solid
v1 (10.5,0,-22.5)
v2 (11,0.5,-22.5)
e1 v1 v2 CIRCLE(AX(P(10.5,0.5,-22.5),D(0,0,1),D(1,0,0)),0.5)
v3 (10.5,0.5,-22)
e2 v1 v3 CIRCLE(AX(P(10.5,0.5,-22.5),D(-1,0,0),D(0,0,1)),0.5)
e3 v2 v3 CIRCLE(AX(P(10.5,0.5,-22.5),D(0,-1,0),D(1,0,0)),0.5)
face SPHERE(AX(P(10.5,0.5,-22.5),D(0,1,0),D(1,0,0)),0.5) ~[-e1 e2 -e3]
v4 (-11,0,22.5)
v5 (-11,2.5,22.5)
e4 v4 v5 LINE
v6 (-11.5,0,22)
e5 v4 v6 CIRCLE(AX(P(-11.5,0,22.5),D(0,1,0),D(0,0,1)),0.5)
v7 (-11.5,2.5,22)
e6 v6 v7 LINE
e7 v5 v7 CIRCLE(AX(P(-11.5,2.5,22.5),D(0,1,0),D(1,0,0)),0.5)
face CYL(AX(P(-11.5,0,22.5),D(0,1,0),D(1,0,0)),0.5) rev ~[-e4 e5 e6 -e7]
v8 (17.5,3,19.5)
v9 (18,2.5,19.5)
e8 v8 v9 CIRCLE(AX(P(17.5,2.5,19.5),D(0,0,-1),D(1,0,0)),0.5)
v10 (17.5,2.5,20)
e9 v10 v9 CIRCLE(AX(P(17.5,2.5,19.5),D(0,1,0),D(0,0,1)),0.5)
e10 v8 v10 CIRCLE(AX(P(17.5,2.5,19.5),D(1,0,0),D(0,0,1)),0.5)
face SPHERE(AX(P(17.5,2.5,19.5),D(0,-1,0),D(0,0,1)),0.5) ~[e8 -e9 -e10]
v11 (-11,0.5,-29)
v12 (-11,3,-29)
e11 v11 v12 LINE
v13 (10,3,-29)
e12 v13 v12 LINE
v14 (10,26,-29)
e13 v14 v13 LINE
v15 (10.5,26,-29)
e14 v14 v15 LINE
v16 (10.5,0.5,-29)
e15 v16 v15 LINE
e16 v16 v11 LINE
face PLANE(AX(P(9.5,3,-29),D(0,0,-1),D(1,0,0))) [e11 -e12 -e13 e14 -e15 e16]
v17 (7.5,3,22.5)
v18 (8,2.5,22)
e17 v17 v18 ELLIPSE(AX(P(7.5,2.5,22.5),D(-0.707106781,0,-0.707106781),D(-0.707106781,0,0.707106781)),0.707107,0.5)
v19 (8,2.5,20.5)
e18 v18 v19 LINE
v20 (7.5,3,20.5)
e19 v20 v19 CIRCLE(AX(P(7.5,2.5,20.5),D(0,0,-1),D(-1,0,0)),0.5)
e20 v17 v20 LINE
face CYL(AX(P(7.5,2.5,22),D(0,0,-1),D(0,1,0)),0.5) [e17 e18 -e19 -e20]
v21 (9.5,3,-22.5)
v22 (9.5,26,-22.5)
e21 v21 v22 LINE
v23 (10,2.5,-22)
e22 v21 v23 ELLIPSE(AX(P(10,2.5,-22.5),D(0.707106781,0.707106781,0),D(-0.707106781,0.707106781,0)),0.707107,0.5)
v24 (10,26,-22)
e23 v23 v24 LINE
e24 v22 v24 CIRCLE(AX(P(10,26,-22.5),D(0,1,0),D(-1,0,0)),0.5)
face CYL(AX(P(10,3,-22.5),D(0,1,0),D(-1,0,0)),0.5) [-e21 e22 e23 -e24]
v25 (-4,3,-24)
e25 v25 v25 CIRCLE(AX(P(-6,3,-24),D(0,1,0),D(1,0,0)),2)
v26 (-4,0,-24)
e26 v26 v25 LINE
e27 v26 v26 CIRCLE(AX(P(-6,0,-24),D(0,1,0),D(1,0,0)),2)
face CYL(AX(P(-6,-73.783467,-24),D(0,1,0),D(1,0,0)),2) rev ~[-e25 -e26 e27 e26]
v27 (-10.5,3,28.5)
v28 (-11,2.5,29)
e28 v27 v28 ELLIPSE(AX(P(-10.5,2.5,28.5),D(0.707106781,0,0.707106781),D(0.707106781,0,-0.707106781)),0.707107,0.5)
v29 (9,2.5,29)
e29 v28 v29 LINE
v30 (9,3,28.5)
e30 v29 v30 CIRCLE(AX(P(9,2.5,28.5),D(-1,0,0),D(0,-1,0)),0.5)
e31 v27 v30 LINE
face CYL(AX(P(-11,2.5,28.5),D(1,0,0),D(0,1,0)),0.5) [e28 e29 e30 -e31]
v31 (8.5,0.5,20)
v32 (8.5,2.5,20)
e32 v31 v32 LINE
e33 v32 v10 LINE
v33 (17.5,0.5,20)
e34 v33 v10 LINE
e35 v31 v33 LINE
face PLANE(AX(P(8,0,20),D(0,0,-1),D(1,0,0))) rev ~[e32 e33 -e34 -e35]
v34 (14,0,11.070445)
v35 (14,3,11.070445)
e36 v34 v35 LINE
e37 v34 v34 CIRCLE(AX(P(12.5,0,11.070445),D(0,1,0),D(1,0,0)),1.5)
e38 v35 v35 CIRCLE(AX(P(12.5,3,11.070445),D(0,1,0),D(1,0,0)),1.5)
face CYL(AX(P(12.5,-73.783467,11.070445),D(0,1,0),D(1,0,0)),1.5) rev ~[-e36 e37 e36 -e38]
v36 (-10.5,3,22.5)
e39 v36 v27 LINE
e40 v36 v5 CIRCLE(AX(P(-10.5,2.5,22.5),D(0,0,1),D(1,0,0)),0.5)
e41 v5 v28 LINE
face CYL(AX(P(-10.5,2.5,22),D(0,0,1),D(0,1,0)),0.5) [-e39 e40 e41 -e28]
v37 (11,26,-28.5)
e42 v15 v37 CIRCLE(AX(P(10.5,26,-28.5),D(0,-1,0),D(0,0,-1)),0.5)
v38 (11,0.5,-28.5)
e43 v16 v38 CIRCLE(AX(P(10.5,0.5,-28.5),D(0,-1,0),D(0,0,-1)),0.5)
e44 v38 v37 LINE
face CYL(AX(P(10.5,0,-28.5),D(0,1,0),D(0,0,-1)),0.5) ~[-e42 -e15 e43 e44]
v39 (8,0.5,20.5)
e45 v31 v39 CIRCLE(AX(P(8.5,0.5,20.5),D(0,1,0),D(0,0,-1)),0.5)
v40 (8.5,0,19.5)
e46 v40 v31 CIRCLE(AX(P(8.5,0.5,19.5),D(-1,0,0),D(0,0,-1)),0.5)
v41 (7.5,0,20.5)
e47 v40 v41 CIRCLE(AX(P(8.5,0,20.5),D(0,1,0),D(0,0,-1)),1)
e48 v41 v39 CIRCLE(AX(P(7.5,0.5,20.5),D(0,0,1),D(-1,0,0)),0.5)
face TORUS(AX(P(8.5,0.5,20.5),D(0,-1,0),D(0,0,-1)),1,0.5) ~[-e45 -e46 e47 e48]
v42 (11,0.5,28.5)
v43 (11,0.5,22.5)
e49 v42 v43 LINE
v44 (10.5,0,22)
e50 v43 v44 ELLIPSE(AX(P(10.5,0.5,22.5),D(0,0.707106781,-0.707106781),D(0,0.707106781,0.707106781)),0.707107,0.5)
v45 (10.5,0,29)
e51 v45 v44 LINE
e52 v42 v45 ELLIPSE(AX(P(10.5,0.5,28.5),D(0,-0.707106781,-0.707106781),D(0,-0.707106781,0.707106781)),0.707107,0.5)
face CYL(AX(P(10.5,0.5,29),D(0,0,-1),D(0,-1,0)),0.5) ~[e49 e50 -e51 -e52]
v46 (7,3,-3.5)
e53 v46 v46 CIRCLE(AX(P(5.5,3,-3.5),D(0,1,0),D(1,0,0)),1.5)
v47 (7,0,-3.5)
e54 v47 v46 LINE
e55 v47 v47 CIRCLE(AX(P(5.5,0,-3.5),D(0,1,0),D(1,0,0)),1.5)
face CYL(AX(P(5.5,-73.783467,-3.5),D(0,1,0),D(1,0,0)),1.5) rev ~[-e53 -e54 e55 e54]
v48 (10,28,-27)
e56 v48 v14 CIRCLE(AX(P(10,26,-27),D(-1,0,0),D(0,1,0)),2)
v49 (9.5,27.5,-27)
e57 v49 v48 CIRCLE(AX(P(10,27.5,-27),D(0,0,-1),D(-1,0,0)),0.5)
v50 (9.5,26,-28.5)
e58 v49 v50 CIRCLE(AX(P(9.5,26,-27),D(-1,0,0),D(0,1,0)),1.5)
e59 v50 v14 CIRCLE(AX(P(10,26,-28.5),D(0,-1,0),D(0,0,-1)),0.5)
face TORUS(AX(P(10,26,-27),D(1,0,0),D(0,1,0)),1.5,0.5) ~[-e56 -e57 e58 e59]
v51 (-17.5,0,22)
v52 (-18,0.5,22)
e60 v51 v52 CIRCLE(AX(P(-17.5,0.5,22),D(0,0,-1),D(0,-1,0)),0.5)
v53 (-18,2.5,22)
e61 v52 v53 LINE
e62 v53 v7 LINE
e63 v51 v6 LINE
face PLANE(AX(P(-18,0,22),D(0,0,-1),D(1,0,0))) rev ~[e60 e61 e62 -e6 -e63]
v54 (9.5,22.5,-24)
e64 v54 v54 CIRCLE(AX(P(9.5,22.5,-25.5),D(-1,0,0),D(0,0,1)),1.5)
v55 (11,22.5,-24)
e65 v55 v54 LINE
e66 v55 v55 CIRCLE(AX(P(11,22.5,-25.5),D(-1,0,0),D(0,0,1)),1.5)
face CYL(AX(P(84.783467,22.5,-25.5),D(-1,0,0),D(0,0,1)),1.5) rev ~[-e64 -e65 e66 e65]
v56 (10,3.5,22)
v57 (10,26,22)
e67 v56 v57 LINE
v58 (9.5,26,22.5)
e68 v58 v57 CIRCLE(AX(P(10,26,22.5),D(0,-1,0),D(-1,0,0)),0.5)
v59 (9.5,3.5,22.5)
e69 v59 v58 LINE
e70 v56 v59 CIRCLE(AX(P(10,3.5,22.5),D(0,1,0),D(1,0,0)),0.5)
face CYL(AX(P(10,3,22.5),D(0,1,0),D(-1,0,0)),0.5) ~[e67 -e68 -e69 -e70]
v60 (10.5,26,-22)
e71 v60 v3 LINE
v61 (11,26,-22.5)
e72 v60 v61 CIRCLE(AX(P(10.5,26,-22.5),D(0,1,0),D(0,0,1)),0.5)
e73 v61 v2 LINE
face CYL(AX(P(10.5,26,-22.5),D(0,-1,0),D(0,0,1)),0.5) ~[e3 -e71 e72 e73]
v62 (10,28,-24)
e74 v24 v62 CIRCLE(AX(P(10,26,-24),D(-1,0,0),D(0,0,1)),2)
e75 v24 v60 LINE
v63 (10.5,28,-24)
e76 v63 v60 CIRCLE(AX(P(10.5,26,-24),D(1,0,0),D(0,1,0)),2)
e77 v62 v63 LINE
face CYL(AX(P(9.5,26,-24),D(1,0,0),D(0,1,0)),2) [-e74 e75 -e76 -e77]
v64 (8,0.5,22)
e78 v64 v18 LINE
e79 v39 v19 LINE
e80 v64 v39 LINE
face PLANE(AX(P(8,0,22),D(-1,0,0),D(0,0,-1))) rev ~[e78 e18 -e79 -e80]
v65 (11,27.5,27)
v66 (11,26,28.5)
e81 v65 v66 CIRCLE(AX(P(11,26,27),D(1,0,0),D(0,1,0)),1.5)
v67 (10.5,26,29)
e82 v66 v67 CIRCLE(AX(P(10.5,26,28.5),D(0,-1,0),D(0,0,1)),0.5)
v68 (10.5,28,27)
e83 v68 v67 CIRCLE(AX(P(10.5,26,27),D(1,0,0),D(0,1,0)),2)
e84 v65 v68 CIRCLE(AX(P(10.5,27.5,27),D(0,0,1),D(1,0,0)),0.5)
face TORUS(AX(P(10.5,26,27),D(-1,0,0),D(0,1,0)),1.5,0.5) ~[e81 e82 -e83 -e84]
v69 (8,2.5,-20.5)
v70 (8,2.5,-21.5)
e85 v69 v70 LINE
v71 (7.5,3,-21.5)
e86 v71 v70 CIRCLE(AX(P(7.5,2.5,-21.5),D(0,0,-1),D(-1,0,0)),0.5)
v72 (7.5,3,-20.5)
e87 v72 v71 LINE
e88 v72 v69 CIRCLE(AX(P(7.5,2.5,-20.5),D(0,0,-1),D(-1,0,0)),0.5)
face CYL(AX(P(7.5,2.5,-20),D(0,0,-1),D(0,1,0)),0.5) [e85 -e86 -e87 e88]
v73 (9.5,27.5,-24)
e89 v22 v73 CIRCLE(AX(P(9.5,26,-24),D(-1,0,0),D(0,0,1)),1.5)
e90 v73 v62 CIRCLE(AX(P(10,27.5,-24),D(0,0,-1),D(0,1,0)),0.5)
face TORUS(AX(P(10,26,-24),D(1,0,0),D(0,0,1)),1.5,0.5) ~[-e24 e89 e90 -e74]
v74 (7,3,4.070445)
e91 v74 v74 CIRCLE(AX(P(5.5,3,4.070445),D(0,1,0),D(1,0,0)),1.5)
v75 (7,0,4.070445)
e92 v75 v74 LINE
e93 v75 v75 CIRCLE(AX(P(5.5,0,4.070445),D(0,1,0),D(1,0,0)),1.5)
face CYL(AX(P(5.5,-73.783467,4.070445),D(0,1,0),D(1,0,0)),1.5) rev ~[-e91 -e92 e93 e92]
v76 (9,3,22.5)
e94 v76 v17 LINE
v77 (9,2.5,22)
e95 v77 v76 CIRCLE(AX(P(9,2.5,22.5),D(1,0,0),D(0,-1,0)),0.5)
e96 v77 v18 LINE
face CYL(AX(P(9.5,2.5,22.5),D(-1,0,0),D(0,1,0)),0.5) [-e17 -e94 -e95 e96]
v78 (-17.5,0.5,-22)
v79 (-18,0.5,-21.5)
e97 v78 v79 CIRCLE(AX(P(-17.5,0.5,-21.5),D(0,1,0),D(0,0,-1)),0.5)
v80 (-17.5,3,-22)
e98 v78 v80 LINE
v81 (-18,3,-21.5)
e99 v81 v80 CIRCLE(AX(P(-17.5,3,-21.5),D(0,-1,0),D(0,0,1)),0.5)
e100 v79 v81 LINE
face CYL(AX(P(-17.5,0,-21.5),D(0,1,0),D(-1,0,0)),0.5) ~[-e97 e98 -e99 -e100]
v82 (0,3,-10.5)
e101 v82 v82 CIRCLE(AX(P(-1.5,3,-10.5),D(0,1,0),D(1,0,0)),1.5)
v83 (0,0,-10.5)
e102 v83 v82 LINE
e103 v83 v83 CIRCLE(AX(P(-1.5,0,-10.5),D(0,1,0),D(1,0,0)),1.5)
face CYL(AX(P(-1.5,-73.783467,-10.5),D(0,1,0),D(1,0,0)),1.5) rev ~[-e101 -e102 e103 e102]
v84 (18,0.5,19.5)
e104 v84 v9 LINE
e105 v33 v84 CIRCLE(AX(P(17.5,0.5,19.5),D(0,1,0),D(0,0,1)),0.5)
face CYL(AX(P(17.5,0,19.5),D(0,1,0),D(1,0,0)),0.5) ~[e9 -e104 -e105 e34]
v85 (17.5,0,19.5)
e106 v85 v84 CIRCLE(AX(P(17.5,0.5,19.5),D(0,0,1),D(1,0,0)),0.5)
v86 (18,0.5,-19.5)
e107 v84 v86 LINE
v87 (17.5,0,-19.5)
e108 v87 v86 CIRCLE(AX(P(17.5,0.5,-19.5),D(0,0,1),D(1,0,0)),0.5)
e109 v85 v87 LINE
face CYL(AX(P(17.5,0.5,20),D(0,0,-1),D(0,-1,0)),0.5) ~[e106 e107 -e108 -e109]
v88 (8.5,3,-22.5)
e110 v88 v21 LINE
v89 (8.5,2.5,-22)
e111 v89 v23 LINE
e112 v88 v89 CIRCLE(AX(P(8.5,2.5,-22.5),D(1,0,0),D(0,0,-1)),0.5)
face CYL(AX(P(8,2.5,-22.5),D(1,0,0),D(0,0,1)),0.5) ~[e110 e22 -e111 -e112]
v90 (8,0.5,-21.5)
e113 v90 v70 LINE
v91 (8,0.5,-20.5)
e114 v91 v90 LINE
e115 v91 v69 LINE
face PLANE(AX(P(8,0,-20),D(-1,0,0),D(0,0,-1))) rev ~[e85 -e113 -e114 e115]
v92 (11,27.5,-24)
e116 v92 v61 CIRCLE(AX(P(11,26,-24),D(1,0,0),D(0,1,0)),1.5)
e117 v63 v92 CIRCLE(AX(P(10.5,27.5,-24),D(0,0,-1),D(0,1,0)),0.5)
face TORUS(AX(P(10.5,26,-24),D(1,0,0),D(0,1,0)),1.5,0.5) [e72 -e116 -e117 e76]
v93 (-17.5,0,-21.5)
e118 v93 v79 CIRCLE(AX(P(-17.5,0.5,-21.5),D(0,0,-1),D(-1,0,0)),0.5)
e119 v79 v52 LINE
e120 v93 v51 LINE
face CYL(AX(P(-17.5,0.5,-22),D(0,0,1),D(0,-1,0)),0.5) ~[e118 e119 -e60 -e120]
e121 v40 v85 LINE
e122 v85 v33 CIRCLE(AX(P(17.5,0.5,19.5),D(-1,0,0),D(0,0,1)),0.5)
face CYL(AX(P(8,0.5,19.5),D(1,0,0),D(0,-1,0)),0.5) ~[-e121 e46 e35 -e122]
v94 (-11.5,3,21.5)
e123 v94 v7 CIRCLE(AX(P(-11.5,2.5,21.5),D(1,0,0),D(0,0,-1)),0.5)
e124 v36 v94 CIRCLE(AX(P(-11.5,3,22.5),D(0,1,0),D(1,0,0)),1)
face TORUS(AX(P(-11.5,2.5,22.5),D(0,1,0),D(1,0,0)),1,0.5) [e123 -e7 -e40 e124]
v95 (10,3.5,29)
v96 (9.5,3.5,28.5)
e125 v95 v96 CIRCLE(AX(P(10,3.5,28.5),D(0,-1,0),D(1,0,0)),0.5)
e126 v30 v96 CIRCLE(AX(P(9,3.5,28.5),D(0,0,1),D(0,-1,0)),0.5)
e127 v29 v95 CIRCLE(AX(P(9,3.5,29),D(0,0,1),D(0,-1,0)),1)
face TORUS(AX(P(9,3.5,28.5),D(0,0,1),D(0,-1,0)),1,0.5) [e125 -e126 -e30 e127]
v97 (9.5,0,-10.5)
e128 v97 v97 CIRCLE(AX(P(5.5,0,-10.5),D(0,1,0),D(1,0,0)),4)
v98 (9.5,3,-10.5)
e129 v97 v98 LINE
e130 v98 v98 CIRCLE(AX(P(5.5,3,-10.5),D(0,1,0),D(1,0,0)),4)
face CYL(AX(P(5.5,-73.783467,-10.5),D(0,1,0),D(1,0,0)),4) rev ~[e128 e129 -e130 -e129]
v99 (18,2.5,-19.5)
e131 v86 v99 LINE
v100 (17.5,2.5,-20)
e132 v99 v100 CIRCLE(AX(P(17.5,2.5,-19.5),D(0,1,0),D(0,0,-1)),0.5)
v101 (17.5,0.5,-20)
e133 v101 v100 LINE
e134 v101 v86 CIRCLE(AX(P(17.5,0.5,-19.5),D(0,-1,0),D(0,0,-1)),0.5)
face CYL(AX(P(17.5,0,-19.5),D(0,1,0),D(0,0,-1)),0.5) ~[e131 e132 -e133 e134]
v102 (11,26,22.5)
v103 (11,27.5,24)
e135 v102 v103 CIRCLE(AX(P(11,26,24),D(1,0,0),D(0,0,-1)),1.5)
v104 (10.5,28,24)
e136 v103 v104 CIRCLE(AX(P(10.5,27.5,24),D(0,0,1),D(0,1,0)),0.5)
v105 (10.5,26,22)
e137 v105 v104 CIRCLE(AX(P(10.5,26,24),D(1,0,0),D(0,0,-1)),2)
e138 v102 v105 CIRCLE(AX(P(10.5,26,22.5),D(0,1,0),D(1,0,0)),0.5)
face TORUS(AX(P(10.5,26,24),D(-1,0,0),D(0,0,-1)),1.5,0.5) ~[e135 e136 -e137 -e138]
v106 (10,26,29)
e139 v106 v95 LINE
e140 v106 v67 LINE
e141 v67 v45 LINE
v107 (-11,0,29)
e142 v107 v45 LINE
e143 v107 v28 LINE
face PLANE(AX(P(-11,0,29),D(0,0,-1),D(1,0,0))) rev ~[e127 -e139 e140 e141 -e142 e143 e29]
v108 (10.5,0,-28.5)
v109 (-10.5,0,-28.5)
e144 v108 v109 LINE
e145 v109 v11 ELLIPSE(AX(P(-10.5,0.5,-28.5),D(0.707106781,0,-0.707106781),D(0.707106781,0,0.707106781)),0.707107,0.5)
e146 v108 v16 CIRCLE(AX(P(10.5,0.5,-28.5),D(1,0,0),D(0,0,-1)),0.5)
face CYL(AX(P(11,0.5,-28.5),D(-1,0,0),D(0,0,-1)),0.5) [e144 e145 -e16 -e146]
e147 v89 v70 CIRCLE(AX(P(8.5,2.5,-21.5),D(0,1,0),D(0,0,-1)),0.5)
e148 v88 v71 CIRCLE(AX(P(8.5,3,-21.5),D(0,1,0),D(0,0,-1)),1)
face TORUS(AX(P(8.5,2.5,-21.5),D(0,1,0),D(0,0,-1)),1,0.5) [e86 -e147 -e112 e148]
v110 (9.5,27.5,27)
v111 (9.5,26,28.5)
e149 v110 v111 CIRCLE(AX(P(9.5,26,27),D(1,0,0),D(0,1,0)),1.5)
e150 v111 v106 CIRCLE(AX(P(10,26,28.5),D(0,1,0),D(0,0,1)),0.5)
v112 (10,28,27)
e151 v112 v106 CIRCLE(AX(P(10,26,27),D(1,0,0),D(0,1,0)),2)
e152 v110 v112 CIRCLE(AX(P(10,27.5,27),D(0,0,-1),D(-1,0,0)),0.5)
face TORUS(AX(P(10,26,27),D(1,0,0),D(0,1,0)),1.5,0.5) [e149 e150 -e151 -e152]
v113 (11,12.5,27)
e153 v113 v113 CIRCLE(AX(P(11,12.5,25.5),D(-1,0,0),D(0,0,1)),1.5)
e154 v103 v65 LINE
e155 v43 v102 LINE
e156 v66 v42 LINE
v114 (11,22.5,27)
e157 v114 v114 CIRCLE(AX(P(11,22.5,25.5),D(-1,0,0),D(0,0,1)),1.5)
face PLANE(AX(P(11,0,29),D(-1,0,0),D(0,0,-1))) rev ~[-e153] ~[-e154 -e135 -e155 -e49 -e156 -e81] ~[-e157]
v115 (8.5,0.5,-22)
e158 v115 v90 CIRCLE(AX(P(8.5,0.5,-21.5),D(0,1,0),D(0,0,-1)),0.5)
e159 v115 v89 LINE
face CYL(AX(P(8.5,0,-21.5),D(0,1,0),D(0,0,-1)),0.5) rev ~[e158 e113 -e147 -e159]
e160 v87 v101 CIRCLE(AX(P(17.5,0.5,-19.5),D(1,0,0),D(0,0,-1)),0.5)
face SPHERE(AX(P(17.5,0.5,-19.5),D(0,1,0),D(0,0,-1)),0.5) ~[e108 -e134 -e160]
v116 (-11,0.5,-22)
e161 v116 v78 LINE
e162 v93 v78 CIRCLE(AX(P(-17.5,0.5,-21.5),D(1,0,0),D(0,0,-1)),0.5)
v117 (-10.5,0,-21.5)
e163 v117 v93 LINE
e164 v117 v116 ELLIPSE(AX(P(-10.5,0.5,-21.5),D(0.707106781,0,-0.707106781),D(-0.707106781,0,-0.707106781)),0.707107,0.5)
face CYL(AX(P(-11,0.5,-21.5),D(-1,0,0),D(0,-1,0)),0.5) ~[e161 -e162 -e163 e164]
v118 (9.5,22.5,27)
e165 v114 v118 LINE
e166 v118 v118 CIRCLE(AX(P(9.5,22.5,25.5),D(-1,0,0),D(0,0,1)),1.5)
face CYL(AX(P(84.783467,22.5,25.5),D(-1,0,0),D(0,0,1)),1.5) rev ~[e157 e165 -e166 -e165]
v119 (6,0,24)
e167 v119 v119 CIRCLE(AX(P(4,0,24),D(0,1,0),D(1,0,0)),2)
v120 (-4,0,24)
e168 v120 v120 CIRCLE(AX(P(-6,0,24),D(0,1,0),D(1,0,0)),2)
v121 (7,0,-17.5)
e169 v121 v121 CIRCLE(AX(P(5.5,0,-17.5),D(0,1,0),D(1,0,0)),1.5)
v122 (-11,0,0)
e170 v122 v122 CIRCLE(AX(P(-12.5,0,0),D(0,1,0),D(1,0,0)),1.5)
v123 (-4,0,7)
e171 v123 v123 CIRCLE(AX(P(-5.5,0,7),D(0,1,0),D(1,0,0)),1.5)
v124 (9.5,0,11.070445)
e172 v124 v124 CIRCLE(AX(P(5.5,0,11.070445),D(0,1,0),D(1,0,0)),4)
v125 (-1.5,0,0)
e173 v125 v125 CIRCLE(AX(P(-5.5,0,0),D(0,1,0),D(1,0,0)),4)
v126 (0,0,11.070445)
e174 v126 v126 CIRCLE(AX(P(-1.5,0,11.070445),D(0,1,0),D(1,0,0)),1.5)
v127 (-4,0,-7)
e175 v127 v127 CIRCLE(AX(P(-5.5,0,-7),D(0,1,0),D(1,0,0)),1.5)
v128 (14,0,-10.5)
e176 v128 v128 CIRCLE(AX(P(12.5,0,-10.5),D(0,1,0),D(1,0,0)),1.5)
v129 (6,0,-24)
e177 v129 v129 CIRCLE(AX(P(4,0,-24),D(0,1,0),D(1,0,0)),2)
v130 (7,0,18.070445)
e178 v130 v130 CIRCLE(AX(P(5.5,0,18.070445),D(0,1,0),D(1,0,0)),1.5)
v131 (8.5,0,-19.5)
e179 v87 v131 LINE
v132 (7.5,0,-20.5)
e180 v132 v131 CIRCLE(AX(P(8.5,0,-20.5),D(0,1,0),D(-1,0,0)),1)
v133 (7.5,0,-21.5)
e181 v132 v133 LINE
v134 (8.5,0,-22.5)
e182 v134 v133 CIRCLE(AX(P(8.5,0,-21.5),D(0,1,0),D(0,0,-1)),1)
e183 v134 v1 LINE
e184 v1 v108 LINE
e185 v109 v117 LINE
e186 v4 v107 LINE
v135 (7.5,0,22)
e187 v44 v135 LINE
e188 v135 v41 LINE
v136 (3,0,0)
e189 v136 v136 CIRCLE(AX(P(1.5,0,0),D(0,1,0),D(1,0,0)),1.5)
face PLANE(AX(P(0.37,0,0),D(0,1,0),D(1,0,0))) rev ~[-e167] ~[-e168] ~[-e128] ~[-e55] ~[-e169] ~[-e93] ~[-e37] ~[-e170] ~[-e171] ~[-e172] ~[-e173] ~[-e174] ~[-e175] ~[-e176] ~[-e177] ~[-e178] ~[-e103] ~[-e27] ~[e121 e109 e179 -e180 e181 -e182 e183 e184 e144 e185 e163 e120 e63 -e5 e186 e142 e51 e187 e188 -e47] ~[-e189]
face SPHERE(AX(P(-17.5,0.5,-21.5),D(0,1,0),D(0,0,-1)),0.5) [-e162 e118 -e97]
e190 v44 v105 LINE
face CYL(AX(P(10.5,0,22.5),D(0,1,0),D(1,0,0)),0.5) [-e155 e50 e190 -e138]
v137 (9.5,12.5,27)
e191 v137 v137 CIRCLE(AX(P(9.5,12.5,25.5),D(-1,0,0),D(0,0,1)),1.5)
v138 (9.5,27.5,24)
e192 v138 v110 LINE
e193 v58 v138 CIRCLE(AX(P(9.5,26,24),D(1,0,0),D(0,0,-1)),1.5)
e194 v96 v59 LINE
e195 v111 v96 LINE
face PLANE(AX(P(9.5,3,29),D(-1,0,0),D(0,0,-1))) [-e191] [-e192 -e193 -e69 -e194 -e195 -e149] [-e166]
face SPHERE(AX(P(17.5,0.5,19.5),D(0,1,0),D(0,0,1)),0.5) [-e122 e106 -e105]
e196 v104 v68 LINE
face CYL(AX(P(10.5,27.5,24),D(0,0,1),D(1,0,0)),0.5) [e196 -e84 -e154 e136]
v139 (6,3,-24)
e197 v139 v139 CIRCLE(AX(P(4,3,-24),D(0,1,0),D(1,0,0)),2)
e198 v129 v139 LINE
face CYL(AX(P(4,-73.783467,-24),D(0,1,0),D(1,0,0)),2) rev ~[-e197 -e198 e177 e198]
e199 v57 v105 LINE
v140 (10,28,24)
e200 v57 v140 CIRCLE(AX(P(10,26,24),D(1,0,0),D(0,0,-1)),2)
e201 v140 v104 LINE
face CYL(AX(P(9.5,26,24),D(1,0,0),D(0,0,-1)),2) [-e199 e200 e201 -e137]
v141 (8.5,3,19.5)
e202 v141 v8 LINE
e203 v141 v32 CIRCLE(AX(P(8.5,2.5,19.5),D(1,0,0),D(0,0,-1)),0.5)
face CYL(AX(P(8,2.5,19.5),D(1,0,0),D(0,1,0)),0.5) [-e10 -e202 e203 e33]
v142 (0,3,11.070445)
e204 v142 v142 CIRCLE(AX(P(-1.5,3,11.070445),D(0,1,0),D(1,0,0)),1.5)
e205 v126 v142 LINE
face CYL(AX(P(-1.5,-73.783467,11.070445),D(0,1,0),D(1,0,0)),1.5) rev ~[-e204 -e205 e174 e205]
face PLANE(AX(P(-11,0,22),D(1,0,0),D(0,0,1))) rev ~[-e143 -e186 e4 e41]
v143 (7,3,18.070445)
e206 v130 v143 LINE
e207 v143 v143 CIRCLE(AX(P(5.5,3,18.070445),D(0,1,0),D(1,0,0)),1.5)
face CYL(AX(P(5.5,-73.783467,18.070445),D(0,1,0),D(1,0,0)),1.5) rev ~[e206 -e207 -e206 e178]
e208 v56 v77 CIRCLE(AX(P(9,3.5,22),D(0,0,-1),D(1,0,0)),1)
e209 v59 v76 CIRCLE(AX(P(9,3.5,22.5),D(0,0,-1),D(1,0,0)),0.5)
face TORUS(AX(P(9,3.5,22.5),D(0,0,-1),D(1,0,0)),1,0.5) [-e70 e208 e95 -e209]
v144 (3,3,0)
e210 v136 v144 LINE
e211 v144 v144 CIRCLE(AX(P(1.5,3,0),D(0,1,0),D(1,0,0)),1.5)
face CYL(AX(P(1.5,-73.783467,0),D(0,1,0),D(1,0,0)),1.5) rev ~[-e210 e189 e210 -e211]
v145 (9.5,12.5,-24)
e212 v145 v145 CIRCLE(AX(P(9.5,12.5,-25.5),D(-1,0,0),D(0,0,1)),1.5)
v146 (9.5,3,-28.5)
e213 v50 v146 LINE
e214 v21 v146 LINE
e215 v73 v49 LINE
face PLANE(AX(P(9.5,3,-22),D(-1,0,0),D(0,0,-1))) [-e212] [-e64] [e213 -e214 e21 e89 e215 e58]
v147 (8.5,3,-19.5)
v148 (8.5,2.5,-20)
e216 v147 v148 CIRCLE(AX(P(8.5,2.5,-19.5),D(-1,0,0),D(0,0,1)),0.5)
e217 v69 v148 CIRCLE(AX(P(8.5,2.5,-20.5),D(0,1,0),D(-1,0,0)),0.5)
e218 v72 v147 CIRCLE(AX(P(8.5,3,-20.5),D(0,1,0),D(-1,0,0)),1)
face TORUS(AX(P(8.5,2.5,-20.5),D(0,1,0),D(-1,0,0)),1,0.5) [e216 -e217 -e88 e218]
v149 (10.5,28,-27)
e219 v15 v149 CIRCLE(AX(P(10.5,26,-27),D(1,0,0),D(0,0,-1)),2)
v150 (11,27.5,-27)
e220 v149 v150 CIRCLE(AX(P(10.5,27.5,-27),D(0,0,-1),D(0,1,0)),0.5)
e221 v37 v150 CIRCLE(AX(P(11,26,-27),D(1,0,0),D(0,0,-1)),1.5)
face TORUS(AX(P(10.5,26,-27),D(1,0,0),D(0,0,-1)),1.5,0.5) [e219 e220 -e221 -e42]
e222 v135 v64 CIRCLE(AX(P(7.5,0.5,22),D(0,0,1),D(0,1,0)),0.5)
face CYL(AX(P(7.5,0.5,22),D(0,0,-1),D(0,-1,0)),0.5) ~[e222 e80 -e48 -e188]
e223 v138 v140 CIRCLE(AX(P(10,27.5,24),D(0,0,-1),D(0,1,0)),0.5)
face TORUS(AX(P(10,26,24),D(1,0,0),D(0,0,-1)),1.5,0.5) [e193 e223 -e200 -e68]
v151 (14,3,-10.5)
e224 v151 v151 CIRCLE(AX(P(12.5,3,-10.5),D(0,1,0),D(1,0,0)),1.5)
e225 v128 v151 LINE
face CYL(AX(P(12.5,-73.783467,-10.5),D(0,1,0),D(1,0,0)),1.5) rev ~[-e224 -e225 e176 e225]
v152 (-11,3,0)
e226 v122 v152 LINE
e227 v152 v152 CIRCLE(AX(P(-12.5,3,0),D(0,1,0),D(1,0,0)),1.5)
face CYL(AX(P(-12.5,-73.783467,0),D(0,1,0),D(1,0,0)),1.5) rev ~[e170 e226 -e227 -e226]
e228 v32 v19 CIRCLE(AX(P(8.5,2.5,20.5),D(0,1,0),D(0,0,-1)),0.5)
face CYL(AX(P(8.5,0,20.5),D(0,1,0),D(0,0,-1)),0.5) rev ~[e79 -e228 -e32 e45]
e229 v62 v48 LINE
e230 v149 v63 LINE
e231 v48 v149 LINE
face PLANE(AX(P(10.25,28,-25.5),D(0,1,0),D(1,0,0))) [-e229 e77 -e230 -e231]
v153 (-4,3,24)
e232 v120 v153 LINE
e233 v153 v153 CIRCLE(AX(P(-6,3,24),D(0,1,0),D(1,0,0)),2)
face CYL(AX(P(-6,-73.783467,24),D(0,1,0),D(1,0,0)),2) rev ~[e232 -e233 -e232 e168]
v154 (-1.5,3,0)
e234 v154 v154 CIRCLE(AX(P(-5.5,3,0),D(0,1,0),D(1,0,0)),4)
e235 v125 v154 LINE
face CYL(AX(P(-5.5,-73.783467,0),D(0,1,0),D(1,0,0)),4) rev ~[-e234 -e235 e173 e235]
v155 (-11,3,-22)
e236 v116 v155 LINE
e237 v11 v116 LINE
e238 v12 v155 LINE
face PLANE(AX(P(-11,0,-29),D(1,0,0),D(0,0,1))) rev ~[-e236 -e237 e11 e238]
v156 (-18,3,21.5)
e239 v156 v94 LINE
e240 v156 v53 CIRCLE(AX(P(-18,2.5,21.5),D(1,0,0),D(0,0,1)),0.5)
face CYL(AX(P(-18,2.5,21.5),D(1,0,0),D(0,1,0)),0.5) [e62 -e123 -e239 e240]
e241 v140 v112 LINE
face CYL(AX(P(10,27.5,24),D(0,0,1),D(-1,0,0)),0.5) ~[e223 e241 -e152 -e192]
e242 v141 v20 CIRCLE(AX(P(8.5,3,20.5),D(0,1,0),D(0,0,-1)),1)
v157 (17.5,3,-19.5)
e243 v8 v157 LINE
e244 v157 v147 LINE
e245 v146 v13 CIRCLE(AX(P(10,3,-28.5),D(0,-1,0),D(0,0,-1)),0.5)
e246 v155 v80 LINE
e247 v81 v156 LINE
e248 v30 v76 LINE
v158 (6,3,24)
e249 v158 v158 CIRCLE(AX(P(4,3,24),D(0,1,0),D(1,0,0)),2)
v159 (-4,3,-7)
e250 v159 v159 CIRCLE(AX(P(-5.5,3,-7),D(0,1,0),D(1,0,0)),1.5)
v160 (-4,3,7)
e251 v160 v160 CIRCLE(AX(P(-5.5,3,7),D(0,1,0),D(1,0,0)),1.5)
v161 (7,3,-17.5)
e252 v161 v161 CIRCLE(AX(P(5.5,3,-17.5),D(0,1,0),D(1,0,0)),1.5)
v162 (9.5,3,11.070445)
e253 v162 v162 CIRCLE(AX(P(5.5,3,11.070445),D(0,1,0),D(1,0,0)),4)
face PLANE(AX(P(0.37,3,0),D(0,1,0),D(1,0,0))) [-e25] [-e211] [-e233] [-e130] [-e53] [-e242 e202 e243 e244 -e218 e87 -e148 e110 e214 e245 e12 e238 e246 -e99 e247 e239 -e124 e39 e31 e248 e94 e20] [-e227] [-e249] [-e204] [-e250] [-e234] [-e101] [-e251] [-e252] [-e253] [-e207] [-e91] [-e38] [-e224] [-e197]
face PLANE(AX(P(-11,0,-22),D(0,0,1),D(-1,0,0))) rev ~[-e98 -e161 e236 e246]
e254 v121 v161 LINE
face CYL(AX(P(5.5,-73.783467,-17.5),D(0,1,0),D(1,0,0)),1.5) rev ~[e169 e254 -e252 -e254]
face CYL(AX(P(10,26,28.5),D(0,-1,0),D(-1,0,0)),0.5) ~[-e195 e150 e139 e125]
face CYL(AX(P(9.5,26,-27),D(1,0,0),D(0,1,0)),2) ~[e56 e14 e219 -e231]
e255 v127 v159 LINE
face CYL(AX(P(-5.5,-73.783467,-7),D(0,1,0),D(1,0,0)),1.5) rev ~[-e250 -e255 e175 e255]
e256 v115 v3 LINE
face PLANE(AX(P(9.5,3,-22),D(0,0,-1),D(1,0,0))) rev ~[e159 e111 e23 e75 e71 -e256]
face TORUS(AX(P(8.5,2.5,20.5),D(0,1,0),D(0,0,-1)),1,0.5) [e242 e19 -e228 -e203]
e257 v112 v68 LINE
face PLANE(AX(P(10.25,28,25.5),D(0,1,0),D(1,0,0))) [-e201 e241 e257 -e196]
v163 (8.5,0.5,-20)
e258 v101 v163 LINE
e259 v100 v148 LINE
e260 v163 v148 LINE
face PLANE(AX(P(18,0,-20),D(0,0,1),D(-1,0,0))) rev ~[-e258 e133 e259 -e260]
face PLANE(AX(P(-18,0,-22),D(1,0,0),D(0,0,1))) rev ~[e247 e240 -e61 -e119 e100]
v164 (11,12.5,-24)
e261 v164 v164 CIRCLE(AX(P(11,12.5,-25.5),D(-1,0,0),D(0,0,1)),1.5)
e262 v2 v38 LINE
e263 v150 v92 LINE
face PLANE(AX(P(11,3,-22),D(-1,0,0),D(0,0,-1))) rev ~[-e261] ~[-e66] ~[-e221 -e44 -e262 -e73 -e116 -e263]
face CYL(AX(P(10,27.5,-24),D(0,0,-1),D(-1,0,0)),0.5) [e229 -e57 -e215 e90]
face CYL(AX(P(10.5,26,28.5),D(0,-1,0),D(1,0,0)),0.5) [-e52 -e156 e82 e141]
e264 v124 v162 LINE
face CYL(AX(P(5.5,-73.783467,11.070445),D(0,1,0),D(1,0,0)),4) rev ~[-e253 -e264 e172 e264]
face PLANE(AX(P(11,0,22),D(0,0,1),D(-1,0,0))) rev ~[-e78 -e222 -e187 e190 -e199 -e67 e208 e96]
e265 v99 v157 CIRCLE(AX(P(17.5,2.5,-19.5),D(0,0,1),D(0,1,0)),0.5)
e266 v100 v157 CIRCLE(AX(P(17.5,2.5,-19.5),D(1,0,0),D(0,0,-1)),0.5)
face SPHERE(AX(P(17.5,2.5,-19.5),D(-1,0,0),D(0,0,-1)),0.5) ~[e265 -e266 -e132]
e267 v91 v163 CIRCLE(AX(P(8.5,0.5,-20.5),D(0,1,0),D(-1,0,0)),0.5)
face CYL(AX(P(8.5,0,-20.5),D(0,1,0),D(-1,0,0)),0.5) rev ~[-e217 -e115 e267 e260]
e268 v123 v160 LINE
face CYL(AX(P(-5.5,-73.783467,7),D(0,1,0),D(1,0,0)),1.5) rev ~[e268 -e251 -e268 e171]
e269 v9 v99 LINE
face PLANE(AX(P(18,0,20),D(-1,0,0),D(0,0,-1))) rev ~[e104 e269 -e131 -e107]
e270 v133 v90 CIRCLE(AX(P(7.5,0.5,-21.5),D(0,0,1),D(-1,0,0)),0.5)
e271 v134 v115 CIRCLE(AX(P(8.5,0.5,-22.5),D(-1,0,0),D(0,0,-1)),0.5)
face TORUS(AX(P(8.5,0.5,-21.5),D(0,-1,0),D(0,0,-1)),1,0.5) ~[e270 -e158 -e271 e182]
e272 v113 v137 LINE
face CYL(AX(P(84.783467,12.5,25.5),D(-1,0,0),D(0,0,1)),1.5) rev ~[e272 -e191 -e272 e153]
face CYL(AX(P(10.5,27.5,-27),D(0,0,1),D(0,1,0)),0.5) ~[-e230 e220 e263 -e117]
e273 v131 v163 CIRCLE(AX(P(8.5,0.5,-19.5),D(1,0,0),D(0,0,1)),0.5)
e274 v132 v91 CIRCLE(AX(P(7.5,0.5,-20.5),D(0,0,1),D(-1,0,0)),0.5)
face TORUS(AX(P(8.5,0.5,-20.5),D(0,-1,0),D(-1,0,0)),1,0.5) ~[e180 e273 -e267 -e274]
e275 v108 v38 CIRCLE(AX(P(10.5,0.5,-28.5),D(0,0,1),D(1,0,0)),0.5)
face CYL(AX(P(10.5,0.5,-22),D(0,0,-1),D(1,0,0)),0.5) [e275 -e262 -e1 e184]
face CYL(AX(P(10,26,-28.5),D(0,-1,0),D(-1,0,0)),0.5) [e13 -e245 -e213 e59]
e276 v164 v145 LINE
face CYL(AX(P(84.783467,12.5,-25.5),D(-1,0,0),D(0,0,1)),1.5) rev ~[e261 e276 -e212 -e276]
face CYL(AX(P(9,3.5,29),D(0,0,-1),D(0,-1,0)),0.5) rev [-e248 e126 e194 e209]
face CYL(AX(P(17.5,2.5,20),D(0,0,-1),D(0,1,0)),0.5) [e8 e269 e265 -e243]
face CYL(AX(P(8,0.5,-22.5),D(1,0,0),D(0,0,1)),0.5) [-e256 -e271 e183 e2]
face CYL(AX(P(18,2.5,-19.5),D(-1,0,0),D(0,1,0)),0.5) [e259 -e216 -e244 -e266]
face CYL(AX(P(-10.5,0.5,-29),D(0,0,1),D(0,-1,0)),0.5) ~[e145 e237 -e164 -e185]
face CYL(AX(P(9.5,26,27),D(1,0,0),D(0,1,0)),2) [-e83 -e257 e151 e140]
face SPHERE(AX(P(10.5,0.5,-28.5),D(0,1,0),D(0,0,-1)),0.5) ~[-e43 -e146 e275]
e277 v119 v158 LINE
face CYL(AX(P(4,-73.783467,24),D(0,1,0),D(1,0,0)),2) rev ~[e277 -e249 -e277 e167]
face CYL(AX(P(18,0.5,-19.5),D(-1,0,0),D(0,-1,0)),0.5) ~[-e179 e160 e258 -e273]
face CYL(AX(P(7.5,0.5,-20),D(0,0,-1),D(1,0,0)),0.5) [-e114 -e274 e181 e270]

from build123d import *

# Parameters (mm, degrees)
BOSS_EXTRUDE1_DEPTH   = 3
SKETCH3_W             = 1.5
SKETCH3_H             = 7
BOSS_EXTRUDE2_DEPTH   = 25
FILLET3_R             = 2
FILLET4_R             = 0.5
F_8_0MM_DOWEL_HOLE1_D = 8
F_3_0MM_DOWEL_HOLE1_D = 3
F_4_0MM_DOWEL_HOLE1_D = 4
F_3_0MM_DOWEL_HOLE2_D = 3


with BuildPart() as part:
    # Sketch1 → Boss-Extrude1 (new body)
    with BuildSketch(Plane(origin=(0, 0, 0), x_dir=(1, 0, 0), z_dir=(0, 1, 0))):
        Polygon((11, 29), (-11, 29), (-11, 22), (-18, 22), (-18, -22), (-11, -22), (-11, -29), (11, -29), (11, -22), (8, -22), (8, -20), (18, -20), (18, 20), (8, 20), (8, 22), (11, 22), align=None)
    extrude(amount=BOSS_EXTRUDE1_DEPTH)

    # Sketch3 → Boss-Extrude2 (add)
    with BuildSketch(Plane(origin=(0, 3, 0), x_dir=(1, 0, 0), z_dir=(0, 1, 0))):
        with Locations((10.25, 25.5)):
            Rectangle(SKETCH3_W, SKETCH3_H)
        with Locations((10.25, -25.5)):
            Rectangle(SKETCH3_W, SKETCH3_H)
    extrude(amount=BOSS_EXTRUDE2_DEPTH)

    # Fillet3
    fillet3_edges = [part.edges().sort_by_distance(p)[0] for p in [
        (10.25, 28, -29),
        (10.25, 28, -22),
        (10.25, 28, 29),
        (10.25, 28, 22),
    ]]
    fillet(fillet3_edges, radius=FILLET3_R)

    # Fillet4
    fillet4_edges = [part.edges().sort_by_distance(p)[0] for p in [
        (13, 3, -20),
        (-14.5, 3, 22),
        (-0.75, 3, 29),
        (11, 27.414213562, -22.585786438),
        (11, 28, -25.5),
        (11, 27.414213562, -28.414213562),
        (9.5, 27.414213562, -28.414213562),
        (9.5, 28, -25.5),
        (9.5, 27.414213562, -22.585786438),
        (11, 27.414213562, 28.414213562),
        (11, 28, 25.5),
        (11, 27.414213562, 22.585786438),
        (9.5, 27.414213562, 28.414213562),
        (9.5, 28, 25.5),
        (9.5, 27.414213562, 22.585786438),
        (11, 0, 25.5),
        (18, 1.5, -20),
        (8, 1.5, -20),
        (8, 1.5, -22),
        (11, 13, -22),
        (11, 13, -29),
        (-18, 1.5, -22),
        (8.75, 3, -22),
        (8, 3, -21),
        (-14.5, 0, -22),
        (-11, 0, -25.5),
        (0, 0, -29),
        (11, 0, -25.5),
        (9.5, 0, -22),
        (8, 0, -21),
        (13, 0, -20),
        (9.5, 14.5, -29),
        (9.5, 14.5, -22),
        (-11, 1.5, 22),
        (11, 13, 29),
        (11, 13, 22),
        (8.75, 3, 22),
        (-11, 3, 25.5),
        (9.5, 14.5, 29),
        (9.5, 14.5, 22),
        (9.5, 3, 25.5),
        (8, 1.5, 20),
        (18, 1.5, 20),
        (13, 3, 20),
        (8, 3, 21),
        (13, 0, 20),
        (8, 0, 21),
        (18, 0, 0),
        (-18, 0, 0),
        (18, 3, 0),
    ]]
    fillet(fillet4_edges, radius=FILLET4_R)

    # Ø8.0mm Dowel Hole1 (through all)
    with Locations(Plane(origin=(0, 0, 0), x_dir=(-1, 0, 0), z_dir=(0, -1, 0))):
        with Locations((-5.5, -11.070444566), (-5.5, 10.5), (5.5, 0)):
            Hole(F_8_0MM_DOWEL_HOLE1_D / 2)

    # Ø3.0mm Dowel Hole1 (through all)
    with Locations(Plane(origin=(0, 0, 0), x_dir=(-1, 0, 0), z_dir=(0, -1, 0))):
        with Locations((5.5, 0), (5.5, -7), (-5.5, -11.070444566), (-5.5, -4.070444566), (-5.5, 3.5), (-5.5, 10.5), (-1.5, 0), (5.5, 7), (12.5, 0), (1.5, -11.070444566), (-5.5, -18.070444566), (-12.5, -11.070444566), (-12.5, 10.5), (-5.5, 17.5), (1.5, 10.5)):
            Hole(F_3_0MM_DOWEL_HOLE1_D / 2)

    # Ø4.0mm Dowel Hole1 (through all)
    with Locations(Plane(origin=(0, 0, 0), x_dir=(-1, 0, 0), z_dir=(0, -1, 0))):
        with Locations((-4, -24), (6, -24), (-4, 24), (6, 24)):
            Hole(F_4_0MM_DOWEL_HOLE1_D / 2)

    # Ø3.0mm Dowel Hole2 (through all)
    with Locations(Plane(origin=(11, 0, 0), x_dir=(0, 0, -1), z_dir=(1, 0, 0))):
        with Locations((25.5, 22.5), (25.5, 12.5), (-25.5, 12.5), (-25.5, 22.5)):
            Hole(F_3_0MM_DOWEL_HOLE2_D / 2)


solid = part.part
